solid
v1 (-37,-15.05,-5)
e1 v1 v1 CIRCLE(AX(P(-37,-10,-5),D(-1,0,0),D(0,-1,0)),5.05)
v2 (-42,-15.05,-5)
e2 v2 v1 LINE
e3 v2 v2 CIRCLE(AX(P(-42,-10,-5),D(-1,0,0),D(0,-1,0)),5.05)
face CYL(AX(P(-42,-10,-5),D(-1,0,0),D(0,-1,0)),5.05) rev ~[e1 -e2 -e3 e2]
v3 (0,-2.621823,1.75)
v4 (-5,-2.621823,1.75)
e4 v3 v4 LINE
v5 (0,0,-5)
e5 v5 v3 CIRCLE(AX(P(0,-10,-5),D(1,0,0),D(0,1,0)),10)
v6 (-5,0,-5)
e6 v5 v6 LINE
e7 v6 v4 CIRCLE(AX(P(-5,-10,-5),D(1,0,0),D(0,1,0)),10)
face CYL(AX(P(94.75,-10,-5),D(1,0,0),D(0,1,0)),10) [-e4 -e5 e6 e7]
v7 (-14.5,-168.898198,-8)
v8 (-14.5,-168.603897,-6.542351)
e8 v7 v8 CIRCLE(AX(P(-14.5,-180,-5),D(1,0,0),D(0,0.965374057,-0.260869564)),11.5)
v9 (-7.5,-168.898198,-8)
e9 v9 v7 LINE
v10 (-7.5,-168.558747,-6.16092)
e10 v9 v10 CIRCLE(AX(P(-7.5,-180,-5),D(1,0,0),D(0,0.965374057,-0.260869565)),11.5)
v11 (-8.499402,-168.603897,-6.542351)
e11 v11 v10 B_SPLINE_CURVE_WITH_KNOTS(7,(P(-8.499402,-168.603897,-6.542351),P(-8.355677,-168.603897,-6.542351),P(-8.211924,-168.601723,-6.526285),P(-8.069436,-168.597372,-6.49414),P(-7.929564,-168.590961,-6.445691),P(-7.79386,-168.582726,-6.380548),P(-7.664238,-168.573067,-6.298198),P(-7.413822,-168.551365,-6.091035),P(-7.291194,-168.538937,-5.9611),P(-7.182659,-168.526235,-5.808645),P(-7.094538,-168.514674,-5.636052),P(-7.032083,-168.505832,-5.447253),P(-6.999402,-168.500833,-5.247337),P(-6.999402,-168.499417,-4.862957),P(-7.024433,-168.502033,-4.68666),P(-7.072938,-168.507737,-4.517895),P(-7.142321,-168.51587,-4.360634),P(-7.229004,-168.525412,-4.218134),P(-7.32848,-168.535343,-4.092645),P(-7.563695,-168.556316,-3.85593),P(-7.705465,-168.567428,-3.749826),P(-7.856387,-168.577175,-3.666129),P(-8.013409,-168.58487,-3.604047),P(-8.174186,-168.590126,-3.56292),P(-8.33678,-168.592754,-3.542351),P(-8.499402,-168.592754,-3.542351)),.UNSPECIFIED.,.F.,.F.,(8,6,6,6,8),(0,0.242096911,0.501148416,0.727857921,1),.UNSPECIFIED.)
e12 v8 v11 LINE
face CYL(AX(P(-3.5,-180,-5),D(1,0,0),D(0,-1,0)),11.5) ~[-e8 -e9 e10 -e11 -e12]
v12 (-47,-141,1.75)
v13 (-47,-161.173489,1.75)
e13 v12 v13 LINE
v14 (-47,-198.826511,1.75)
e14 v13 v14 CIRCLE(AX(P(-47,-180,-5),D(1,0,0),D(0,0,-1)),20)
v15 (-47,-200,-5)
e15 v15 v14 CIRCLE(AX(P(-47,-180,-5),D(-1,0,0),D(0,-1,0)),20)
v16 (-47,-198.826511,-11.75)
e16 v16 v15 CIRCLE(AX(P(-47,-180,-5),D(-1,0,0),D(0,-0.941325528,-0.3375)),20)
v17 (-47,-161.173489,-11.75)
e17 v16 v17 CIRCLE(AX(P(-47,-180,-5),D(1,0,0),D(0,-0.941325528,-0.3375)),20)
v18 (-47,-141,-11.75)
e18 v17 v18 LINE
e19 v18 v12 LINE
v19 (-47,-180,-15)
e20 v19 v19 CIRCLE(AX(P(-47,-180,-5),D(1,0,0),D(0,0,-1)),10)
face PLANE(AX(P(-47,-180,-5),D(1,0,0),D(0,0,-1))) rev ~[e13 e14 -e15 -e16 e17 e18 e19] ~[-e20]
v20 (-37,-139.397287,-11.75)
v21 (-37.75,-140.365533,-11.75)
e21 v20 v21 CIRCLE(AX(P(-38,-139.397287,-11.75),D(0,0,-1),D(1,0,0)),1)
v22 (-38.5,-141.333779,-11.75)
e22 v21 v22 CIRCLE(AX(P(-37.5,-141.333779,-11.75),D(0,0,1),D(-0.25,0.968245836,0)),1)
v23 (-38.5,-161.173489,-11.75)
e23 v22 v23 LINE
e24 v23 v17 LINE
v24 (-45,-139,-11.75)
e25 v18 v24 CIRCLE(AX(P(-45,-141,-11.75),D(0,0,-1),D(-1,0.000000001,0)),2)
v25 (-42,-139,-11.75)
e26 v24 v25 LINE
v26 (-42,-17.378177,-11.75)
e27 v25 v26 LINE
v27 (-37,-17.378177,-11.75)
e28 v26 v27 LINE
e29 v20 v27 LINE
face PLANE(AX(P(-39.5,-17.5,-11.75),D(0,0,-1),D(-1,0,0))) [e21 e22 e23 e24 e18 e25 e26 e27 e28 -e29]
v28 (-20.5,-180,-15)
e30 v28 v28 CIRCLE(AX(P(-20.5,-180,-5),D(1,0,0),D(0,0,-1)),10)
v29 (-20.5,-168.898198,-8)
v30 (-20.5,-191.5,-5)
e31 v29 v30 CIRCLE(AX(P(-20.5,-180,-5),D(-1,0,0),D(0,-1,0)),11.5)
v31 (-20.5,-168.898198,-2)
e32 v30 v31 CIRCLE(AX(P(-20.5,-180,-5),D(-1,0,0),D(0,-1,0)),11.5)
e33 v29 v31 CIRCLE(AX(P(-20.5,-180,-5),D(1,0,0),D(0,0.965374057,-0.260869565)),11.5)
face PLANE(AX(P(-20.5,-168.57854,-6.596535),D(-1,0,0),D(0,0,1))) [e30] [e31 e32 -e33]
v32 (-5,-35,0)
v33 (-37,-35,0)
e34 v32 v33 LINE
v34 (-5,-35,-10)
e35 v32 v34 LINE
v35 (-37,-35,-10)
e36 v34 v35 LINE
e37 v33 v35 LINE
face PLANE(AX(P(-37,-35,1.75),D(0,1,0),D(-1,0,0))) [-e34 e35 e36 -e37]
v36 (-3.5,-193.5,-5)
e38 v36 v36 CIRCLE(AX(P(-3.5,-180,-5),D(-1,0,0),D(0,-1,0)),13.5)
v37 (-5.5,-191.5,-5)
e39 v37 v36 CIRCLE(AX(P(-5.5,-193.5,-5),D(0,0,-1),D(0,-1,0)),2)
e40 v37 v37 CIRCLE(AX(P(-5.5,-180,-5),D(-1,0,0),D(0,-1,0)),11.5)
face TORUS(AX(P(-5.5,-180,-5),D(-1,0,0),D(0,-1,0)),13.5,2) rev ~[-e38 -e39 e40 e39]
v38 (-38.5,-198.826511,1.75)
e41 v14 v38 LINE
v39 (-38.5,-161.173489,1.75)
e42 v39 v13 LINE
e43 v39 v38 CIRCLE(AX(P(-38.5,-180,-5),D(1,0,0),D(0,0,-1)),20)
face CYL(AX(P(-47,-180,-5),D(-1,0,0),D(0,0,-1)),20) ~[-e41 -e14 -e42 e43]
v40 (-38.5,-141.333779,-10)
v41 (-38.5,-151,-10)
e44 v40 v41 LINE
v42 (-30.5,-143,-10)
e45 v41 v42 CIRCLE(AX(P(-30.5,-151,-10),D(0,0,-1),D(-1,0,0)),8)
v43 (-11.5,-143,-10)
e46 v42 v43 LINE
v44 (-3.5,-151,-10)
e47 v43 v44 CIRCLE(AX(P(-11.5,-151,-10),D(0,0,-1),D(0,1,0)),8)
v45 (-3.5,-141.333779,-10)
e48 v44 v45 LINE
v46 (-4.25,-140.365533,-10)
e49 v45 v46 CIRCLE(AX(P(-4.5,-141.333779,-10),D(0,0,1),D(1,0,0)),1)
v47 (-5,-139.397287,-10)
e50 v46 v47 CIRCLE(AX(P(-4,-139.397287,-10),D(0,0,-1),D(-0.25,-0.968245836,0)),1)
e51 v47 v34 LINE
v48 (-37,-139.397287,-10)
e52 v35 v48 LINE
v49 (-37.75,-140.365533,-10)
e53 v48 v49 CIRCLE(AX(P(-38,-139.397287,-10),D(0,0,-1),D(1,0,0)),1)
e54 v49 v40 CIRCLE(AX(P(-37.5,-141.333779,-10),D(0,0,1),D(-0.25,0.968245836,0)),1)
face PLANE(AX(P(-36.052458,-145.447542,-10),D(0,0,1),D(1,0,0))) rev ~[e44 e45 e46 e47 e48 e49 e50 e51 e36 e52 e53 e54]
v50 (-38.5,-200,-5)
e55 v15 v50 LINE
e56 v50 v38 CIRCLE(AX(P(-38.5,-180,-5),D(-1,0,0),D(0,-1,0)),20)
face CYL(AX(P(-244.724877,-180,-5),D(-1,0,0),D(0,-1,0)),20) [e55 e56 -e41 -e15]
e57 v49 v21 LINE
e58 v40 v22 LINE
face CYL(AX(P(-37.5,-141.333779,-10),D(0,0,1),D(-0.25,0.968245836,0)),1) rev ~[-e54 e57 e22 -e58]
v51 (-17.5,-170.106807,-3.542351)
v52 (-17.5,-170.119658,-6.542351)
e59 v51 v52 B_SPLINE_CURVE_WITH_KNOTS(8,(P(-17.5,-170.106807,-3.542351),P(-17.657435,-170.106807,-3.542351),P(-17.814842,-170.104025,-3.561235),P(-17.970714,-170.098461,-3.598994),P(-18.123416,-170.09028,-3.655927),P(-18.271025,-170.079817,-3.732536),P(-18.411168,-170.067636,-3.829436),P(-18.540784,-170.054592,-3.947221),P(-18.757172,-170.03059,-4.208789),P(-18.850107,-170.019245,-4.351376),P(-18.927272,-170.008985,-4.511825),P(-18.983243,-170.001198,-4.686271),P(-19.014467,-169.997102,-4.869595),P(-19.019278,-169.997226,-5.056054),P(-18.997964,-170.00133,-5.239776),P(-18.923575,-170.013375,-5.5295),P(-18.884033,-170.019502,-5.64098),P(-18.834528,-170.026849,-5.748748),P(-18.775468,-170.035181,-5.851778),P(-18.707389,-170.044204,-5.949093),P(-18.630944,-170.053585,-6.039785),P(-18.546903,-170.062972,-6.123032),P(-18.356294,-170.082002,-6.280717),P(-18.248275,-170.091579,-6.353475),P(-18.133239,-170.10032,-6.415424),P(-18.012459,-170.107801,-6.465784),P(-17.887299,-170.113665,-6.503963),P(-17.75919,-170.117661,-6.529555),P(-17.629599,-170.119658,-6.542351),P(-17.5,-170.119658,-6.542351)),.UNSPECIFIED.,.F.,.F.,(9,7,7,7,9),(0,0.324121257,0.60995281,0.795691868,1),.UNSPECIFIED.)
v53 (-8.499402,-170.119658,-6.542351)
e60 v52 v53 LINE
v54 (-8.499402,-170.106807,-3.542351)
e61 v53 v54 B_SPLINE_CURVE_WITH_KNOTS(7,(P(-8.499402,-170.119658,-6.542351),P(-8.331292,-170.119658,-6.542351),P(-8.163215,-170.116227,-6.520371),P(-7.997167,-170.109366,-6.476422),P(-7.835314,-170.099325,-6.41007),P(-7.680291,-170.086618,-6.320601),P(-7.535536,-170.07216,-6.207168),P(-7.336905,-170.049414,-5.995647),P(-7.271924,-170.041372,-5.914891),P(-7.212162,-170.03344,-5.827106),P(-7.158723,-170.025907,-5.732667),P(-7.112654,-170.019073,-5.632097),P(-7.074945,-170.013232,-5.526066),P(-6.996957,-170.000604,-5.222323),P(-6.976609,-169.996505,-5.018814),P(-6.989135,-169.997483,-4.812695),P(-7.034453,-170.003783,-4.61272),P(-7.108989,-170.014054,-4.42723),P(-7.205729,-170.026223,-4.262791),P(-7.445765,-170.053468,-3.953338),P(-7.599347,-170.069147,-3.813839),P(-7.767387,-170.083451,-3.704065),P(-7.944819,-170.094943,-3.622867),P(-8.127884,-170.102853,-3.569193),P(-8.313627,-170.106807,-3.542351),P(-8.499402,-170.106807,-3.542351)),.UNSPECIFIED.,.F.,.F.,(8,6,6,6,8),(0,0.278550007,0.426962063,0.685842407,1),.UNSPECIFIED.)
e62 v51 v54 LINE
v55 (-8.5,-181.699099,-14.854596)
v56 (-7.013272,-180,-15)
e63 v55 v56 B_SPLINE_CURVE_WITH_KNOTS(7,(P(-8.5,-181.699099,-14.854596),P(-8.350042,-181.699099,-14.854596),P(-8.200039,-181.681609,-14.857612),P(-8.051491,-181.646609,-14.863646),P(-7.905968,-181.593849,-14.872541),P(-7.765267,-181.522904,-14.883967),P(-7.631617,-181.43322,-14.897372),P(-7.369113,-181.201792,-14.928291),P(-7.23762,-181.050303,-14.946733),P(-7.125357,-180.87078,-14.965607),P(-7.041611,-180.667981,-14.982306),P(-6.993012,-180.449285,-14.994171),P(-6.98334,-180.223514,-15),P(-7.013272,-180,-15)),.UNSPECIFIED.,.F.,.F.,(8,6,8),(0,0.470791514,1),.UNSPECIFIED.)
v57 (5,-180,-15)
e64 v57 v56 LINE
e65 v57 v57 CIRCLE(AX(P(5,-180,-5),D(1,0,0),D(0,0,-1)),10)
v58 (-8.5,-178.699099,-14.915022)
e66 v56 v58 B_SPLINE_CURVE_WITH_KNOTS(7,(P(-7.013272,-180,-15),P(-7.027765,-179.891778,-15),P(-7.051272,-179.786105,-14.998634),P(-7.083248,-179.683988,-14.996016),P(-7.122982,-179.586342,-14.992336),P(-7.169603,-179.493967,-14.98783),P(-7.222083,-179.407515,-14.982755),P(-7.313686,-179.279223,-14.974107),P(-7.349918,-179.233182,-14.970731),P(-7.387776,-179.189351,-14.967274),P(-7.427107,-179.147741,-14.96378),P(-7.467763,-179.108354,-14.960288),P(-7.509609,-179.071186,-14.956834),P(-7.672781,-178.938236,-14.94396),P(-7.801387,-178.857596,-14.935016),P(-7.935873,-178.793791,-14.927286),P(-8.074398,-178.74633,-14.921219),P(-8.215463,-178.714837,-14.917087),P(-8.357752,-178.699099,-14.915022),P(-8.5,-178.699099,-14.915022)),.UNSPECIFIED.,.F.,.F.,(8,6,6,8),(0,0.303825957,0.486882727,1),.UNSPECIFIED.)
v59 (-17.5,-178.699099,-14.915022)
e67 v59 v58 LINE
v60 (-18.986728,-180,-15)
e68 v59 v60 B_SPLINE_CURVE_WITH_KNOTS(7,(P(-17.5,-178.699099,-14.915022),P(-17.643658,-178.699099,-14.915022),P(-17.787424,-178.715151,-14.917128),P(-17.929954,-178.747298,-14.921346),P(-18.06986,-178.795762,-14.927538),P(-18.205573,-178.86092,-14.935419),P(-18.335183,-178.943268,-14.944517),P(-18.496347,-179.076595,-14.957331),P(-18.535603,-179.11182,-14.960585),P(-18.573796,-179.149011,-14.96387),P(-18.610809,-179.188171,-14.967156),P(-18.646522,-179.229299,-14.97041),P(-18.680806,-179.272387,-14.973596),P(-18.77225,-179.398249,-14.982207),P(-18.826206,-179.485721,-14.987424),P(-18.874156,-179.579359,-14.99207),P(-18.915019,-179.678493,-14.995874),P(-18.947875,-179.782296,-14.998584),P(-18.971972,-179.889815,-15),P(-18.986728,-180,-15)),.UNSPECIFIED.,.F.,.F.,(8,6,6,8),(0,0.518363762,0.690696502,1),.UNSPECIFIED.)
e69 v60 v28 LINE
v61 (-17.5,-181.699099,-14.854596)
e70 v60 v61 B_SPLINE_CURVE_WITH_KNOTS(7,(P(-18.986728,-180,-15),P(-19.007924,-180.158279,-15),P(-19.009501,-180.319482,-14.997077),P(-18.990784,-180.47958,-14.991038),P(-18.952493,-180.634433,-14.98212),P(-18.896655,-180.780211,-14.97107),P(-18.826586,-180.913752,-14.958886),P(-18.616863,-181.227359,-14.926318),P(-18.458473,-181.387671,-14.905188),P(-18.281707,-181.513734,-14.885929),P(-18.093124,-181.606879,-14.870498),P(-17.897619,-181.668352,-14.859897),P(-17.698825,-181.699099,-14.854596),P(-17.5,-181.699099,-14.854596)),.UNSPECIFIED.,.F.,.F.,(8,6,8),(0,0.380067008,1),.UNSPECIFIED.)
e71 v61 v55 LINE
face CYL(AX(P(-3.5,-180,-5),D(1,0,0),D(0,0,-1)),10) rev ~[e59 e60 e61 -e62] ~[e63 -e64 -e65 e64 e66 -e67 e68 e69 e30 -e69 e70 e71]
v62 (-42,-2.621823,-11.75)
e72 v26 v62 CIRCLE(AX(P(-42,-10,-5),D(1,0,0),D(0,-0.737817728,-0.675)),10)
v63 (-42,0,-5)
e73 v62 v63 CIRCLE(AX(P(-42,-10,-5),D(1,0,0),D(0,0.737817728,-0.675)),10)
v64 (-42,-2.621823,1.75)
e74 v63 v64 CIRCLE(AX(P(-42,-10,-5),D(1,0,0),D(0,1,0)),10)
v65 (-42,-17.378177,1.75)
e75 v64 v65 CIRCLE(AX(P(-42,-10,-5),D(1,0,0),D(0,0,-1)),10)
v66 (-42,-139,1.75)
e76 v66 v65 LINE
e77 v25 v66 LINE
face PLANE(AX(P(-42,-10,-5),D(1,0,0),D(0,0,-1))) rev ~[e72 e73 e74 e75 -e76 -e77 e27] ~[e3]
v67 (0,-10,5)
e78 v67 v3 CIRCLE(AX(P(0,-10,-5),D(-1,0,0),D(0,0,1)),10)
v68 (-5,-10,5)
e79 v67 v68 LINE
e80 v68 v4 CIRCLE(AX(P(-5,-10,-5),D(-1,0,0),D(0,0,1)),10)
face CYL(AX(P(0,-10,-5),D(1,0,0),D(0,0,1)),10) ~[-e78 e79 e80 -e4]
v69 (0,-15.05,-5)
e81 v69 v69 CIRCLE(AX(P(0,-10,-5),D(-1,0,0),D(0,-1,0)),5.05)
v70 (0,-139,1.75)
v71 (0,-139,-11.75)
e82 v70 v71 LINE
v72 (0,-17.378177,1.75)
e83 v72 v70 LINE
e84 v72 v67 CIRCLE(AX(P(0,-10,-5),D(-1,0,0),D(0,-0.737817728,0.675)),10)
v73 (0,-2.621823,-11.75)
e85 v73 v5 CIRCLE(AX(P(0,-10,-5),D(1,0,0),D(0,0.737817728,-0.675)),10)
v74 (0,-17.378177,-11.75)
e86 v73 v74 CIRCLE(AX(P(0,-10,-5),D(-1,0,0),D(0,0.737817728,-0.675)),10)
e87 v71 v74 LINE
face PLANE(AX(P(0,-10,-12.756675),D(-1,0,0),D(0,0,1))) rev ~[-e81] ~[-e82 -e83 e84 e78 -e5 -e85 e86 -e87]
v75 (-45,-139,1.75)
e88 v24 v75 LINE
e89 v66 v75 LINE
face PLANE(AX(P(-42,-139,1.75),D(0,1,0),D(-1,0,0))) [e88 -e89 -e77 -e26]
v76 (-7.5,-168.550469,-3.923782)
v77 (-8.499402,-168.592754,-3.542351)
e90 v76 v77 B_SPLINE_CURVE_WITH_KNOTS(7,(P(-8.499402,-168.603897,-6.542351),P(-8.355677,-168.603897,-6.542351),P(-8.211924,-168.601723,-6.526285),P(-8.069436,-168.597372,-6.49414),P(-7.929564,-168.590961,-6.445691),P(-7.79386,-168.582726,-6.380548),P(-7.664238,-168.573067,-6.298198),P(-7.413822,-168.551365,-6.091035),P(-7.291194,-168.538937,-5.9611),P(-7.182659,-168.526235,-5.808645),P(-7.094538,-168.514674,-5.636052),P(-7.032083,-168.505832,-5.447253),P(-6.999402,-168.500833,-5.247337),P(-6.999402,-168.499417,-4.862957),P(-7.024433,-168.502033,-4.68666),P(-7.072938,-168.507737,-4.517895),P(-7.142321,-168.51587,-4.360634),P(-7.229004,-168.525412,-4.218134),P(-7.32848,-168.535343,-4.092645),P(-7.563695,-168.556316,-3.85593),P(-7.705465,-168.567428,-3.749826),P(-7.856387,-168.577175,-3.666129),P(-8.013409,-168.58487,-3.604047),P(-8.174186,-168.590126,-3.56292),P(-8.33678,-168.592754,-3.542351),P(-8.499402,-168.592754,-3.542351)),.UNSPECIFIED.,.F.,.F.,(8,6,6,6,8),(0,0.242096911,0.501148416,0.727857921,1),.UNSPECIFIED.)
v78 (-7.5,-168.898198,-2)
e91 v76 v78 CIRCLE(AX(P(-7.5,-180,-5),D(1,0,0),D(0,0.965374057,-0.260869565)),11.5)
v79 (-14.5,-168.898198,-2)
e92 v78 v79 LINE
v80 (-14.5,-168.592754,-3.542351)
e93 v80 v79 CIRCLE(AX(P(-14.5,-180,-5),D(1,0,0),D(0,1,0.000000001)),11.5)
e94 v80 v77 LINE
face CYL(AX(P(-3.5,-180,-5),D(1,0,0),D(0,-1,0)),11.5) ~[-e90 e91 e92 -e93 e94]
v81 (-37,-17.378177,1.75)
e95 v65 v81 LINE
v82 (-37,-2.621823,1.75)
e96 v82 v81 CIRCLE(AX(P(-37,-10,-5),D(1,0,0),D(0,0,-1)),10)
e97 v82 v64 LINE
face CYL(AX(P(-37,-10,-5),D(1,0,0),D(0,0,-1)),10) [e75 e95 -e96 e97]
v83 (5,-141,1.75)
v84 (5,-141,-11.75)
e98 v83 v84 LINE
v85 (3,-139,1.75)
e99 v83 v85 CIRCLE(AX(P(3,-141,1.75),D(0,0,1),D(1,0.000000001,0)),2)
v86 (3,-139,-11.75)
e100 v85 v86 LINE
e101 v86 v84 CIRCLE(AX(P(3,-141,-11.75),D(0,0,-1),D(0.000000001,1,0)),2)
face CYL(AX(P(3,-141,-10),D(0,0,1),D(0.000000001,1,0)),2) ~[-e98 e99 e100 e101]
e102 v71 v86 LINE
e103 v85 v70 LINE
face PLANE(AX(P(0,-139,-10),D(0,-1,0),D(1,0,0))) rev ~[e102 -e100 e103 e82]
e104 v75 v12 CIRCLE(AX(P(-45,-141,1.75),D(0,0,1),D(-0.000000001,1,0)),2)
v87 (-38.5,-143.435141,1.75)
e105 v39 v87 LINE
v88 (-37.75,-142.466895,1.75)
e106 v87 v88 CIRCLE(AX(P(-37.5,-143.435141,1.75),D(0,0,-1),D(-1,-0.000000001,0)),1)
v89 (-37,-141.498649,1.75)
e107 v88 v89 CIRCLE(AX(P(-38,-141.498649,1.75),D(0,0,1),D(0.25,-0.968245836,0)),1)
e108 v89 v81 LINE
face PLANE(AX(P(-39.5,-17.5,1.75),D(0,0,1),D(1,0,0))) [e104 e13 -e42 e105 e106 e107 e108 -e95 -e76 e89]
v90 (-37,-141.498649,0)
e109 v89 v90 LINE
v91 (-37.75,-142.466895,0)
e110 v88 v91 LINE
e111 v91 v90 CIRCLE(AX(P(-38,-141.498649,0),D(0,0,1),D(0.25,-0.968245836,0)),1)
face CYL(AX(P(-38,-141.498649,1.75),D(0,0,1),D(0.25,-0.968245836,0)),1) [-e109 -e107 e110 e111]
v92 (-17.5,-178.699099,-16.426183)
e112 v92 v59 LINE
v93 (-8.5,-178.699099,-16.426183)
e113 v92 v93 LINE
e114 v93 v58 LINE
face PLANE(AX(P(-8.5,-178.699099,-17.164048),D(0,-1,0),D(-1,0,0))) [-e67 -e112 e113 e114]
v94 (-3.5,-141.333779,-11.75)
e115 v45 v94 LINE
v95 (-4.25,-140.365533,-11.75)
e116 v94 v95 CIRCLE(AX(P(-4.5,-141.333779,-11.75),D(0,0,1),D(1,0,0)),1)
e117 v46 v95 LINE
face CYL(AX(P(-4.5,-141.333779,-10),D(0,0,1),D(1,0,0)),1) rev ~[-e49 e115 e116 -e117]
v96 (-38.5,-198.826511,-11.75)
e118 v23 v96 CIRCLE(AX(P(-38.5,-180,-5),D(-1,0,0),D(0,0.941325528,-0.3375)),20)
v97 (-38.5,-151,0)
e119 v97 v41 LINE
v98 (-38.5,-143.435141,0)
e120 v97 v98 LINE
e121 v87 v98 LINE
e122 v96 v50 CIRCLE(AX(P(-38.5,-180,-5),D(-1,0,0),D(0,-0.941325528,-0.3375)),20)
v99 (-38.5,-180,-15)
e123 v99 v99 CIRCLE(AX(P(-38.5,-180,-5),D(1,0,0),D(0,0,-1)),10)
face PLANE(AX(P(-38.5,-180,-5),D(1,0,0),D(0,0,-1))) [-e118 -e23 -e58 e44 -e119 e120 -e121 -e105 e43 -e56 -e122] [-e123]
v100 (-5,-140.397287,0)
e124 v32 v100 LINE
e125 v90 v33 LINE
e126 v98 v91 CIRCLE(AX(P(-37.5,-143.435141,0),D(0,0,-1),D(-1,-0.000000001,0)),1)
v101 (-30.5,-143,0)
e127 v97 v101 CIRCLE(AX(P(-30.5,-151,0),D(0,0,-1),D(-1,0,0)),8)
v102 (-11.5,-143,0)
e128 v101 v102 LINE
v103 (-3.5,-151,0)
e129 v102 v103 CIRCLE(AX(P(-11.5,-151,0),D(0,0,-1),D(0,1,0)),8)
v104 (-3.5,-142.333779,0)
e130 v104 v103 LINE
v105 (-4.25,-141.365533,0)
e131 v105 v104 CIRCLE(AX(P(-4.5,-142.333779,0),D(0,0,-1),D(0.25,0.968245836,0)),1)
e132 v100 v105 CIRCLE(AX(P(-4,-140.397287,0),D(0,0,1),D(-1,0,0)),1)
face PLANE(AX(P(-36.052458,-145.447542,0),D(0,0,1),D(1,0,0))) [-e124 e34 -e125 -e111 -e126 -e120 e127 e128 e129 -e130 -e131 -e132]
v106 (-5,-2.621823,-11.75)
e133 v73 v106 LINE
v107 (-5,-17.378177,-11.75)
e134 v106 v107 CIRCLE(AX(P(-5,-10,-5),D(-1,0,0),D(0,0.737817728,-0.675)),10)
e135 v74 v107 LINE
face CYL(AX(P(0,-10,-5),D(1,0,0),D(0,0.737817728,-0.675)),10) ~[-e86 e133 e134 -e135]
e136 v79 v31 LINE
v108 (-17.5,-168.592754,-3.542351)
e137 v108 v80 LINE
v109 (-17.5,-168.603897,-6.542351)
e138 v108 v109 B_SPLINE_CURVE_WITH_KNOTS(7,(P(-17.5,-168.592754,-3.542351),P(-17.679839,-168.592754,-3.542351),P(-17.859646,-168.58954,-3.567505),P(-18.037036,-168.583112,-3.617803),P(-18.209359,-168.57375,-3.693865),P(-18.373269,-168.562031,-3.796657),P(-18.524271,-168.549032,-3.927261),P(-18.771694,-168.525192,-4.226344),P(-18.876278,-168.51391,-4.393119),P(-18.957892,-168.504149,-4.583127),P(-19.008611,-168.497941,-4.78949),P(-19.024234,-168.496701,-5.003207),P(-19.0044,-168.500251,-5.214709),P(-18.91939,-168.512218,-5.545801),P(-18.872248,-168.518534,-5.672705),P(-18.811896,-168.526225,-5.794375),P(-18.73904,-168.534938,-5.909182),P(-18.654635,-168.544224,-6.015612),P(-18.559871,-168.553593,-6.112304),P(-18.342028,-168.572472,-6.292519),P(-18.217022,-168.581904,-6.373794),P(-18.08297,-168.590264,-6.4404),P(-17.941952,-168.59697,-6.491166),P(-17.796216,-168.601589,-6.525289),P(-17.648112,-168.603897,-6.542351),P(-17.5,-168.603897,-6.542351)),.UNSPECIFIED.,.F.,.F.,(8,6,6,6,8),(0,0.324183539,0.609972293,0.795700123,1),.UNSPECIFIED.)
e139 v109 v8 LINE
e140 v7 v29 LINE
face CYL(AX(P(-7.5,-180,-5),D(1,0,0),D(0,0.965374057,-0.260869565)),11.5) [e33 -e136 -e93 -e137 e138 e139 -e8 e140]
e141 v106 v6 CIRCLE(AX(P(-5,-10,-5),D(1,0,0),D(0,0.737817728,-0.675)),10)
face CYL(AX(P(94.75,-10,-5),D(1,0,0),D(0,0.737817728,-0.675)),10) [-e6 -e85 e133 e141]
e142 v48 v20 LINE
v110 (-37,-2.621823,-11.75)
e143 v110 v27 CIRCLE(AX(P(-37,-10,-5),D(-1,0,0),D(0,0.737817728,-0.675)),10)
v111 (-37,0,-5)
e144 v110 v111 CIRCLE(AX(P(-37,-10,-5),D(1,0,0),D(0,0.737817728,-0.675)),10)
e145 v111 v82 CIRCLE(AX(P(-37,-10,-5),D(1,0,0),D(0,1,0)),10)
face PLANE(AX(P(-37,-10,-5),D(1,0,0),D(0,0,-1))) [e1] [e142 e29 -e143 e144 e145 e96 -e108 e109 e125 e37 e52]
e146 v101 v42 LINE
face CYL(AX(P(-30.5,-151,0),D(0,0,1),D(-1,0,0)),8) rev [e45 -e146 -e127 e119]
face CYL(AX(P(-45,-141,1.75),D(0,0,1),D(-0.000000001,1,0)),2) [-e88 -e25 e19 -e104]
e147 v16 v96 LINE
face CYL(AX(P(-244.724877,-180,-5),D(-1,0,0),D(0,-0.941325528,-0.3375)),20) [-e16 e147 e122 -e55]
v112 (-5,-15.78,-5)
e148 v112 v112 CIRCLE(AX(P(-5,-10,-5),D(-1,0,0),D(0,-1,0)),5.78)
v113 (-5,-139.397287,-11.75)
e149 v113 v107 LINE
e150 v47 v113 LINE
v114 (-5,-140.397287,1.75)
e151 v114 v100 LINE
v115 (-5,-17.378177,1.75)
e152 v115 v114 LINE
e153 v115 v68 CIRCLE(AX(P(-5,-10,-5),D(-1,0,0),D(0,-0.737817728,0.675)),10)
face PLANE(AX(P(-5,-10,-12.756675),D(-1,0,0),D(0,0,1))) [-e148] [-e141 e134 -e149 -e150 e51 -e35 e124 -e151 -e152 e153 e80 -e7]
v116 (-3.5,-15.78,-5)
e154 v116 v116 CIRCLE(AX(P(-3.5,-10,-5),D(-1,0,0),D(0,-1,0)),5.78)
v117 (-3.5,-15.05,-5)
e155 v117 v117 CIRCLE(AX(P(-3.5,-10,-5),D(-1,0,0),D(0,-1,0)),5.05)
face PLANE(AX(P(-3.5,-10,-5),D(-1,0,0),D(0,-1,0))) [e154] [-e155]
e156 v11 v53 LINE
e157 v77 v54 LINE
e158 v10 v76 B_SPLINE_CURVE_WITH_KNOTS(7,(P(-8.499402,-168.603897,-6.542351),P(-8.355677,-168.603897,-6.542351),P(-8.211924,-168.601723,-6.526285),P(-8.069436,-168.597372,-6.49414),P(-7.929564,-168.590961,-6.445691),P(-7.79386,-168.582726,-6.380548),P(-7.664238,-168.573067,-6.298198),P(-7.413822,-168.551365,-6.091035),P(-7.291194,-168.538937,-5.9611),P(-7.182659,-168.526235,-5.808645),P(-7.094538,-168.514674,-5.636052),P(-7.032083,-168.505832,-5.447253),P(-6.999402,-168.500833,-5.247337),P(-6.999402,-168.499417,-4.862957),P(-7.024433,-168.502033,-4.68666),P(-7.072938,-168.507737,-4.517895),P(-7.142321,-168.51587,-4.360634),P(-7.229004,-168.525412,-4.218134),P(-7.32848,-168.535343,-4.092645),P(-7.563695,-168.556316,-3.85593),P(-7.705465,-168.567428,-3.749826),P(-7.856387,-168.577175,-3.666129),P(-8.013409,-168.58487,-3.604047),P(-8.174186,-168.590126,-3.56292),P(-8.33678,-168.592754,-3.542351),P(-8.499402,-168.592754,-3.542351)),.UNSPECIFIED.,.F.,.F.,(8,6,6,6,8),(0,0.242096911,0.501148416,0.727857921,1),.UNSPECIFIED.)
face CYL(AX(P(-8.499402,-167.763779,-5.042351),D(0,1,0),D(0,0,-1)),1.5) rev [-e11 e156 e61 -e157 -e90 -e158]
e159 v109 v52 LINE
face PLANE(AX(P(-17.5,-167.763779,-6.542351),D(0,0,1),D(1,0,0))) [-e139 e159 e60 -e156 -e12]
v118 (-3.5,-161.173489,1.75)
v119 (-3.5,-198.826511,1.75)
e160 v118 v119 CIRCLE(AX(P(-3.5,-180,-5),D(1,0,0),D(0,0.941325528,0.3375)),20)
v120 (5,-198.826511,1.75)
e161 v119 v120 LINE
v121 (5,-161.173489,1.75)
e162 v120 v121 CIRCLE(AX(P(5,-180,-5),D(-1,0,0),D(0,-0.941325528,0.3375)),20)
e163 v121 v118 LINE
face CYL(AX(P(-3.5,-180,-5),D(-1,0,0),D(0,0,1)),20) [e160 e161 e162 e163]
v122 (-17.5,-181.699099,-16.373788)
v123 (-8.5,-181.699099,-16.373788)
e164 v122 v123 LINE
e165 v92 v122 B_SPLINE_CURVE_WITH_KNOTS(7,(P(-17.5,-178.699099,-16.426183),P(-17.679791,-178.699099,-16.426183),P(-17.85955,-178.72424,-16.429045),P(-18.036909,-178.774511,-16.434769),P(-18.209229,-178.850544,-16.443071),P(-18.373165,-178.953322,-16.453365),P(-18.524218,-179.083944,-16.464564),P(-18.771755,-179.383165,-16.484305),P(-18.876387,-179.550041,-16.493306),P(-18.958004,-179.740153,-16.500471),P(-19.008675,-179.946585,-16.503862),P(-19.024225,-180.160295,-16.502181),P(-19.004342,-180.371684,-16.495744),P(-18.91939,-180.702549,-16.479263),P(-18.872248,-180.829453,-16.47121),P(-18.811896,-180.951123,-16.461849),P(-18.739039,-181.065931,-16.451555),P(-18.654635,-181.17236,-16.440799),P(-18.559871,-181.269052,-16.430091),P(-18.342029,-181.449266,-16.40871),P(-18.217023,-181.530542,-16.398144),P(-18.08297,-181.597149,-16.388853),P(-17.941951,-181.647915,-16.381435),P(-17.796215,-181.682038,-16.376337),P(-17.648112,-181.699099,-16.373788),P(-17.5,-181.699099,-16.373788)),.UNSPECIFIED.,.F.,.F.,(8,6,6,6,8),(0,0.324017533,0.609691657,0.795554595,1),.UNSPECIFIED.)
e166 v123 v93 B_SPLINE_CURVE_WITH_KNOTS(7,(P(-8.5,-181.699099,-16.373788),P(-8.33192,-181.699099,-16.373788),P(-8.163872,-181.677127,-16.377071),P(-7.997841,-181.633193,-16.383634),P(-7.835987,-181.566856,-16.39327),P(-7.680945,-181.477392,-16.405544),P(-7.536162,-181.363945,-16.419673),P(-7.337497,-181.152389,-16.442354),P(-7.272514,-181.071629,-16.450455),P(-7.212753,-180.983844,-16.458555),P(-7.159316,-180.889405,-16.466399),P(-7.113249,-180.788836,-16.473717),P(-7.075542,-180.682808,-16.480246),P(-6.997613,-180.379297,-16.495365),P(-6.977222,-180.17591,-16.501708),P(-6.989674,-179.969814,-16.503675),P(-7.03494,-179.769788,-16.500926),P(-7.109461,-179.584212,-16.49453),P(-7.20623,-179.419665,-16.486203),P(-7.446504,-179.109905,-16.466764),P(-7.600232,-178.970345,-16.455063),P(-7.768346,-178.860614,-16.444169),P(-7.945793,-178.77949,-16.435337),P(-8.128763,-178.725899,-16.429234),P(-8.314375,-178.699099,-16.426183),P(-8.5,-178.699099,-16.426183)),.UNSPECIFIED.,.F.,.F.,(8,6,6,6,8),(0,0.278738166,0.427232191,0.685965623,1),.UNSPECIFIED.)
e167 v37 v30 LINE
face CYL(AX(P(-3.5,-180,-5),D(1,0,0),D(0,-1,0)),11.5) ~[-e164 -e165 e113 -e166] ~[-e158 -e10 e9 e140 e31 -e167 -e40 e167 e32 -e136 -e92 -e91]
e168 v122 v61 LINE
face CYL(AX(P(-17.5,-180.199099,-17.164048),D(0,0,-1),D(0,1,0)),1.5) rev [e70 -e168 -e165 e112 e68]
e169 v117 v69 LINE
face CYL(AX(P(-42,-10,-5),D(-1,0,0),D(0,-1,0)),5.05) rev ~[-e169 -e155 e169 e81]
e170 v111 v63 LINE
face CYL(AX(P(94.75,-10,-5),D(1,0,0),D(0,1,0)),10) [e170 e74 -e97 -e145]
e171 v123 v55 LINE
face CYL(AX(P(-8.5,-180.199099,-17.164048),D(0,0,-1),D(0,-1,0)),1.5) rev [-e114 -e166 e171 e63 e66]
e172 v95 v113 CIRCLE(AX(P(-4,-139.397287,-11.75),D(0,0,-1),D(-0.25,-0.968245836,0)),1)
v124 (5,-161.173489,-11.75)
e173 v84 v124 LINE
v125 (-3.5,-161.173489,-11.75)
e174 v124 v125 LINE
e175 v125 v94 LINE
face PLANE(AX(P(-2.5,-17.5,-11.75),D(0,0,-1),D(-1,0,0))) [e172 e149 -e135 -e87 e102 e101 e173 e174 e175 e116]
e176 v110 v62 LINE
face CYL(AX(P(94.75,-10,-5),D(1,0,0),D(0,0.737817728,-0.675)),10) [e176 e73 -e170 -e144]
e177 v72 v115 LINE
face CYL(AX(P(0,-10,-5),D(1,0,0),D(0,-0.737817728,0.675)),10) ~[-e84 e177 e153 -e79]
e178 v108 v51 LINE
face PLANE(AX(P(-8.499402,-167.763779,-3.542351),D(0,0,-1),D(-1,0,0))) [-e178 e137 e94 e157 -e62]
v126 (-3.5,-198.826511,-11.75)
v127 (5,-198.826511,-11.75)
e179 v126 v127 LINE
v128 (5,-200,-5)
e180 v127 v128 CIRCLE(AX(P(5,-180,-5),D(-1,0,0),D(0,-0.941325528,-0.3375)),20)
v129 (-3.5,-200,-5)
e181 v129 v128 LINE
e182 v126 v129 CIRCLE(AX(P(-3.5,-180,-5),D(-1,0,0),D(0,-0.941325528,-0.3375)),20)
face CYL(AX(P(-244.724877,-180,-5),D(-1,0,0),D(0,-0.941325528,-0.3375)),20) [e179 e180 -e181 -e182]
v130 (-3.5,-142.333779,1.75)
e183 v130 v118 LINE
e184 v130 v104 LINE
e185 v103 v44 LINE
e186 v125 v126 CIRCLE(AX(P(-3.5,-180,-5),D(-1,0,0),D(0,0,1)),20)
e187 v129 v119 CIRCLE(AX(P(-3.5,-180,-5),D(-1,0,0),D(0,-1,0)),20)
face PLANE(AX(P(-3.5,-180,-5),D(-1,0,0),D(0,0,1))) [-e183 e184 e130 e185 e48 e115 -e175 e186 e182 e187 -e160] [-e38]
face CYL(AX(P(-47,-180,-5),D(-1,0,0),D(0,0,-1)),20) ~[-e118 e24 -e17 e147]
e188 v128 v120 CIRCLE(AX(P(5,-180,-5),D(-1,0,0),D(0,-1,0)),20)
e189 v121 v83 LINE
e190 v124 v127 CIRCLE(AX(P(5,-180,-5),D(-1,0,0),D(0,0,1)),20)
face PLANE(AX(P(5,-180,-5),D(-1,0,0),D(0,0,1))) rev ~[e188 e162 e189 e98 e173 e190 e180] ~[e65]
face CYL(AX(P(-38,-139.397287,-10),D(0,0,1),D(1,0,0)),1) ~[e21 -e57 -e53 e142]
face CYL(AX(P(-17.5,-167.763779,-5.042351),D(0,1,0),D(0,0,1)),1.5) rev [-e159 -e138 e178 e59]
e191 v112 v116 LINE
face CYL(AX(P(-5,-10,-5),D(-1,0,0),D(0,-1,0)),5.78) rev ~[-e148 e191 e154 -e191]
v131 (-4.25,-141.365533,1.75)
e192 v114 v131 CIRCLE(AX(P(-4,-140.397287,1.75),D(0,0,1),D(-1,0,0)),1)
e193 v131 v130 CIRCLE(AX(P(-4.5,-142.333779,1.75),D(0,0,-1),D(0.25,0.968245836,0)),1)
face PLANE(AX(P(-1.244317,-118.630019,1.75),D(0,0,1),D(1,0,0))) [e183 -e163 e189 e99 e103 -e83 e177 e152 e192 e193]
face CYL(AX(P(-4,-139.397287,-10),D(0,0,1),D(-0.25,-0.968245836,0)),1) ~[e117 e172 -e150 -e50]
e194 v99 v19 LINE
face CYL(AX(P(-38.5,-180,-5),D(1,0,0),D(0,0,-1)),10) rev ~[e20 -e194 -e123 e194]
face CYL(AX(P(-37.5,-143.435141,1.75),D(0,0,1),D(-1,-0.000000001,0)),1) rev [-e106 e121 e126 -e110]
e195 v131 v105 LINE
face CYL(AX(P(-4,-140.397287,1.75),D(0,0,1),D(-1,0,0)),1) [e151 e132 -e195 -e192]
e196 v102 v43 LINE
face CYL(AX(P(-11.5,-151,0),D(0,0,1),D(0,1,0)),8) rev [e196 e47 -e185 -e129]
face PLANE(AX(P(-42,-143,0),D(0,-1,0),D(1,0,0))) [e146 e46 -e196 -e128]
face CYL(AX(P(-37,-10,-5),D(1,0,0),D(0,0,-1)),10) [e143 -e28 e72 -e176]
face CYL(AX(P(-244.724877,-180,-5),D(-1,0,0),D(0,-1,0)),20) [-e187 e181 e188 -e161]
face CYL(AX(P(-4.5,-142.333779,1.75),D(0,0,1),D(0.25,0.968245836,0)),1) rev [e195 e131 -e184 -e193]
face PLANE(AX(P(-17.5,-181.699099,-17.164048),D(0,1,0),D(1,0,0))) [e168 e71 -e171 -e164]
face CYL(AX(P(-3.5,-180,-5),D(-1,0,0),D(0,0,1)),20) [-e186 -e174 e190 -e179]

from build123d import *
from build123d.topology import SkipClean

# Parameters (mm, degrees)
SALIENTE_EXTRUIR1_DEPTH    = 10
SALIENTE_EXTRUIR2_DEPTH    = 10
SALIENTE_EXTRUIR3_DEPTH    = 10
SALIENTE_EXTRUIR4_DEPTH    = 1.75
SALIENTE_EXTRUIR5_START    = 1.75
SALIENTE_EXTRUIR5_DEPTH    = 1.75
CROQUIS26_W                = 5
CROQUIS26_H                = 35
SALIENTE_EXTRUIR6_DEPTH    = 1.75
CROQUIS27_W                = 5
CROQUIS27_H                = 35
SALIENTE_EXTRUIR7_DEPTH    = 11.75
CORTAR_EXTRUIR3_DEPTH      = 205.699932829
CORTAR_EXTRUIR3_DEPTH_BACK = 99.75
SALIENTE_EXTRUIR8_START    = -5
SALIENTE_EXTRUIR8_DEPTH    = 5
CROQUIS29_R                = 10
SALIENTE_EXTRUIR9_DEPTH    = 5
CORTAR_EXTRUIR5_DEPTH      = 206.22487666
CORTAR_EXTRUIR5_DEPTH_BACK = 206.22487666
SALIENTE_EXTRUIR11_START   = -8.5
CROQUIS32_R                = 20
SALIENTE_EXTRUIR11_DEPTH   = 8.5
CROQUIS33_R                = 20
SALIENTE_EXTRUIR12_DEPTH   = 8.5
CROQUIS34_R                = 5.05
CORTAR_EXTRUIR6_DEPTH      = 90
CROQUIS39_R                = 5.78
CORTAR_EXTRUIR7_DEPTH      = 1.5
CROQUIS41_R                = 10
CORTAR_EXTRUIR8_DEPTH      = 43
CROQUIS42_R                = 4
CORTAR_EXTRUIR9_DEPTH      = 27
CROQUIS43_R                = 10
CORTAR_EXTRUIR10_DEPTH     = 12
CROQUIS45_R                = 11.5
SALIENTE_EXTRUIR13_DEPTH   = 17
REDONDEO1_R                = 2
SALIENTE_EXTRUIR14_START   = -6
SALIENTE_EXTRUIR14_DEPTH   = 6
CROQUIS48_R                = 10
CORTAR_EXTRUIR12_DEPTH     = 17
SALIENTE_EXTRUIR16_DEPTH   = 6
CORTAR_EXTRUIR20_DEPTH     = 6
CORTAR_EXTRUIR21_DEPTH     = 10
CORTAR_EXTRUIR22_START     = -13
CORTAR_EXTRUIR22_DEPTH     = 13
CORTAR_EXTRUIR23_START     = -13
CORTAR_EXTRUIR23_DEPTH     = 13


with BuildPart() as part:
    # Croquis1 → Saliente-Extruir1 (new body)
    with BuildSketch(Plane.XY):
        Polygon((0, -143), (0, -35), (-1.6, -35), (-37.4, -35), (-42, -35), (-42, -143), align=None)
    extrude(amount=-SALIENTE_EXTRUIR1_DEPTH)

    # Croquis3 → Saliente-Extruir2 (add)
    with BuildSketch(Plane.XY):
        with BuildLine():
            Line((-47, -141), (-47, -145))
            Line((-47, -145), (-47, -160))
            Line((-47, -160), (-47, -180))
            Line((-47, -180), (-47, -200))
            Line((-47, -200), (-38.5, -200))
            Line((-38.5, -200), (-38.5, -151))
            Line((-38.5, -151), (-38.5, -143))
            Line((-38.5, -143), (-42, -143))
            Line((-42, -143), (-42, -139))
            Line((-42, -139), (-45, -139))
            ThreePointArc((-45, -139), (-46.414213562, -139.585786438), (-47, -141))
        make_face()
        with BuildLine():
            Line((0, -143), (-11.5, -143))
            ThreePointArc((-11.5, -143), (-5.843145751, -145.343145751), (-3.5, -151))
            Line((-3.5, -151), (-3.5, -200))
            Line((-3.5, -200), (5, -200))
            Line((5, -200), (5, -143))
            Line((5, -143), (5, -141))
            ThreePointArc((5, -141), (4.414213562, -139.585786438), (3, -139))
            Line((3, -139), (0, -139))
            Line((0, -139), (0, -143))
        make_face()
    extrude(amount=-SALIENTE_EXTRUIR2_DEPTH)

    # Croquis21 → Saliente-Extruir3 (add)
    with BuildSketch(Plane.XY):
        with BuildLine():
            Line((-38.5, -143), (-38.5, -151))
            ThreePointArc((-38.5, -151), (-36.156854249, -145.343145751), (-30.5, -143))
            Line((-30.5, -143), (-38.5, -143))
        make_face()
    extrude(amount=-SALIENTE_EXTRUIR3_DEPTH)

    # Croquis22 → Saliente-Extruir4 (add)
    with BuildSketch(Plane(origin=(0, 0, -10), x_dir=(-1, 0, 0), z_dir=(0, 0, -1))):
        with BuildLine():
            Line((3.5, -200), (3.5, -156.87358131))
            Line((3.5, -156.87358131), (3.5, -151))
            Line((3.5, -151), (3.5, -141.333778868))
            ThreePointArc((3.5, -141.333778868), (3.709430585, -140.721406432), (4.25, -140.365533031))
            ThreePointArc((4.25, -140.365533031), (4.790569415, -140.00965963), (5, -139.397287194))
            Line((5, -139.397287194), (5, -35))
            Line((5, -35), (0, -35))
            Line((0, -35), (0, -139))
            Line((0, -139), (-3, -139))
            ThreePointArc((-3, -139), (-4.414213562, -139.585786438), (-5, -141))
            Line((-5, -141), (-5, -200))
            Line((-5, -200), (3.5, -200))
        make_face()
        with BuildLine():
            Line((42, -35), (37, -35))
            Line((37, -35), (37, -139.397287194))
            ThreePointArc((37, -139.397287194), (37.209430585, -140.00965963), (37.75, -140.365533031))
            ThreePointArc((37.75, -140.365533031), (38.290569415, -140.721406432), (38.5, -141.333778868))
            Line((38.5, -141.333778868), (38.5, -151))
            Line((38.5, -151), (38.5, -155.512462497))
            Line((38.5, -155.512462497), (38.5, -200))
            Line((38.5, -200), (47, -200))
            Line((47, -200), (47, -141))
            ThreePointArc((47, -141), (46.414213562, -139.585786438), (45, -139))
            Line((45, -139), (42, -139))
            Line((42, -139), (42, -35))
        make_face()
    extrude(amount=SALIENTE_EXTRUIR4_DEPTH)

    # Croquis24 → Saliente-Extruir5 (add)
    with BuildSketch(Plane.XY.offset(SALIENTE_EXTRUIR5_START)):
        with BuildLine():
            Line((-37, -141.498649254), (-37, -35))
            Line((-37, -35), (-42, -35))
            Line((-42, -35), (-42, -139))
            Line((-42, -139), (-45, -139))
            ThreePointArc((-45, -139), (-46.414213562, -139.585786438), (-47, -141))
            Line((-47, -141), (-47, -200))
            Line((-47, -200), (-38.5, -200))
            Line((-38.5, -200), (-38.5, -143.435140927))
            ThreePointArc((-38.5, -143.435140927), (-38.290569415, -142.822768491), (-37.75, -142.466895091))
            ThreePointArc((-37.75, -142.466895091), (-37.209430585, -142.11102169), (-37, -141.498649254))
        make_face()
        with BuildLine():
            Line((0, -35), (-5, -35))
            Line((-5, -35), (-5, -140.397287194))
            ThreePointArc((-5, -140.397287194), (-4.790569415, -141.00965963), (-4.25, -141.365533031))
            ThreePointArc((-4.25, -141.365533031), (-3.709430585, -141.721406432), (-3.5, -142.333778868))
            Line((-3.5, -142.333778868), (-3.5, -200))
            Line((-3.5, -200), (5, -200))
            Line((5, -200), (5, -141))
            ThreePointArc((5, -141), (4.414213562, -139.585786438), (3, -139))
            Line((3, -139), (0, -139))
            Line((0, -139), (0, -35))
        make_face()
    extrude(amount=-SALIENTE_EXTRUIR5_DEPTH)

    # Croquis26 → Saliente-Extruir6 (add)
    with BuildSketch(Plane.XY):
        with Locations((-39.5, -17.5)):
            Rectangle(CROQUIS26_W, CROQUIS26_H)
        with Locations((-2.5, -17.5)):
            Rectangle(CROQUIS26_W, CROQUIS26_H)
    extrude(amount=SALIENTE_EXTRUIR6_DEPTH)

    # Croquis27 → Saliente-Extruir7 (add)
    with BuildSketch(Plane(origin=(0, 0, 0), x_dir=(-1, 0, 0), z_dir=(0, 0, -1))):
        with Locations((2.5, -17.5)):
            Rectangle(CROQUIS27_W, CROQUIS27_H)
        with Locations((39.5, -17.5)):
            Rectangle(CROQUIS27_W, CROQUIS27_H)
    extrude(amount=SALIENTE_EXTRUIR7_DEPTH)

    # Croquis28 → Cortar-Extruir3 (cut, two sides: drawn at the far end of the back side and taken through both)
    with BuildSketch(Plane.ZY.offset(5).offset(-CORTAR_EXTRUIR3_DEPTH_BACK)):
        with BuildLine():
            ThreePointArc((-11.75, -2.621822718), (-8.62065099, -0.678471884), (-5, 0))
            Line((-5, 0), (-11.75, 0))
            Line((-11.75, 0), (-11.75, -2.621822718))
        make_face()
        with BuildLine():
            Line((1.75, -2.621822718), (1.75, 0))
            Line((1.75, 0), (-5, 0))
            ThreePointArc((-5, 0), (-1.37934901, -0.678471884), (1.75, -2.621822718))
        make_face()
    extrude(amount=CORTAR_EXTRUIR3_DEPTH + CORTAR_EXTRUIR3_DEPTH_BACK, mode=Mode.SUBTRACT)

    # Croquis28<5> → Saliente-Extruir8 (add)
    with BuildSketch(Plane.ZY.offset(5).offset(SALIENTE_EXTRUIR8_START)):
        with BuildLine():
            Line((-11.75, -17.378177282), (-11.75, -2.621822718))
            ThreePointArc((-11.75, -2.621822718), (-15, -10), (-11.75, -17.378177282))
        make_face()
        with BuildLine():
            ThreePointArc((5, -10), (4.151502609, -5.968871126), (1.75, -2.621822718))
            Line((1.75, -2.621822718), (1.75, -17.378177282))
            ThreePointArc((1.75, -17.378177282), (4.151502609, -14.031128874), (5, -10))
        make_face()
    extrude(amount=SALIENTE_EXTRUIR8_DEPTH)

    # Croquis29 → Saliente-Extruir9 (add)
    with BuildSketch(Plane(origin=(-37, 0, 0), x_dir=(0, 0, -1), z_dir=(1, 0, 0))):
        with Locations((5, -10)):
            Circle(CROQUIS29_R)
    extrude(amount=-SALIENTE_EXTRUIR9_DEPTH)

    # Croquis31 → Cortar-Extruir5 (cut, two sides: drawn at the far end of the back side and taken through both)
    with BuildSketch(Plane(origin=(-38.5, 0, 0), x_dir=(0, 0, -1), z_dir=(1, 0, 0)).offset(-CORTAR_EXTRUIR5_DEPTH_BACK)):
        with BuildLine():
            Line((-1.75, -200), (5, -200))
            ThreePointArc((5, -200), (1.574376792, -199.704443804), (-1.75, -198.826510564))
            Line((-1.75, -198.826510564), (-1.75, -200))
        make_face()
        with BuildLine():
            Line((11.75, -200), (11.75, -198.826510564))
            ThreePointArc((11.75, -198.826510564), (8.425623208, -199.704443804), (5, -200))
            Line((5, -200), (11.75, -200))
        make_face()
    extrude(amount=CORTAR_EXTRUIR5_DEPTH + CORTAR_EXTRUIR5_DEPTH_BACK, mode=Mode.SUBTRACT)

    # Croquis32 → Saliente-Extruir11 (add)
    with BuildSketch(Plane(origin=(-38.5, 0, 0), x_dir=(0, 0, -1), z_dir=(1, 0, 0)).offset(SALIENTE_EXTRUIR11_START)):
        with Locations((5, -180)):
            Circle(CROQUIS32_R)
    extrude(amount=SALIENTE_EXTRUIR11_DEPTH)

    # Croquis33 → Saliente-Extruir12 (add)
    with BuildSketch(Plane.ZY.offset(3.5)):
        with Locations((-5, -180)):
            Circle(CROQUIS33_R)
    extrude(amount=-SALIENTE_EXTRUIR12_DEPTH)

    # Croquis34 → Cortar-Extruir6 (cut)
    with BuildSketch(Plane.ZY.offset(42)):
        with Locations(Location((-5, -10, 0), (0, 0, 270))):
            Circle(CROQUIS34_R)
    extrude(amount=-CORTAR_EXTRUIR6_DEPTH, mode=Mode.SUBTRACT)

    # Croquis39 → Cortar-Extruir7 (cut)
    with SkipClean():  # the faces are left unmerged after this step: merging them gives an invalid solid
        with BuildSketch(Plane.ZY.offset(5)):
            with Locations(Location((-5, -10, 0), (0, 0, 270))):
                Circle(CROQUIS39_R)
        extrude(amount=-CORTAR_EXTRUIR7_DEPTH, mode=Mode.SUBTRACT)

    # Croquis41 → Cortar-Extruir8 (cut)
    with SkipClean():  # the faces are left unmerged after this step: merging them gives an invalid solid
        with BuildSketch(Plane(origin=(-38.5, 0, 0), x_dir=(0, 0, -1), z_dir=(1, 0, 0))):
            with Locations((5, -180)):
                Circle(CROQUIS41_R)
        extrude(amount=-CORTAR_EXTRUIR8_DEPTH, mode=Mode.SUBTRACT)

    # Croquis42 → Cortar-Extruir9 (cut)
    with SkipClean():  # the faces are left unmerged after this step: merging them gives an invalid solid
        with BuildSketch(Plane(origin=(5, 0, 0), x_dir=(0, 0, -1), z_dir=(1, 0, 0))):
            with Locations(Location((5, -180, 0), (0, 0, 90))):
                Circle(CROQUIS42_R)
        extrude(amount=-CORTAR_EXTRUIR9_DEPTH, mode=Mode.SUBTRACT)

    # Croquis43 → Cortar-Extruir10 (cut)
    with SkipClean():  # the faces are left unmerged after this step: merging them gives an invalid solid
        with BuildSketch(Plane(origin=(5, 0, 0), x_dir=(0, 0, -1), z_dir=(1, 0, 0))):
            with Locations((5, -180)):
                Circle(CROQUIS43_R)
        extrude(amount=-CORTAR_EXTRUIR10_DEPTH, mode=Mode.SUBTRACT)

    # Croquis45 → Saliente-Extruir13 (add)
    with SkipClean():  # the faces are left unmerged after this step: merging them gives an invalid solid
        with BuildSketch(Plane.ZY.offset(3.5)):
            with Locations(Location((-5, -180, 0), (0, 0, 270))):
                Circle(CROQUIS45_R)
        extrude(amount=SALIENTE_EXTRUIR13_DEPTH)

    # Redondeo1
    redondeo1_edges = [part.edges().sort_by_distance(p)[0] for p in [
        (-3.5, -168.5, -5),
    ]]
    fillet(redondeo1_edges, radius=REDONDEO1_R)

    # Croquis46 → Saliente-Extruir14 (add)
    with SkipClean():  # the faces are left unmerged after this step: merging them gives an invalid solid
        with BuildSketch(Plane.ZY.offset(20.5).offset(SALIENTE_EXTRUIR14_START)):
            with BuildLine():
                ThreePointArc((-8, -168.898198344), (-6.513155802, -168.599984232), (-5, -168.5))
                Line((-5, -168.5), (-8, -168.5))
                Line((-8, -168.5), (-8, -168.898198344))
            make_face()
            with BuildLine():
                Line((-2, -168.5), (-5, -168.5))
                ThreePointArc((-5, -168.5), (-3.486844198, -168.599984232), (-2, -168.898198344))
                Line((-2, -168.898198344), (-2, -168.5))
            make_face()
            Polygon((-2, -167.763778716), (-2, -168.5), (-5, -168.5), (-8, -168.5), (-8, -167.763778716), align=None)
        extrude(amount=SALIENTE_EXTRUIR14_DEPTH)

    # Croquis48 → Cortar-Extruir12 (cut)
    with SkipClean():  # the faces are left unmerged after this step: merging them gives an invalid solid
        with BuildSketch(Plane(origin=(-3.5, 0, 0), x_dir=(0, 0, -1), z_dir=(1, 0, 0))):
            with Locations((5, -180)):
                Circle(CROQUIS48_R)
        extrude(amount=-CORTAR_EXTRUIR12_DEPTH, mode=Mode.SUBTRACT)


with BuildPart() as body_2:
    # Croquis50 → Saliente-Extruir16 (new body)
    with BuildSketch(Plane.ZY.offset(20.5)):
        with BuildLine():
            ThreePointArc((-16.101801656, -183), (-16.400015768, -181.513155802), (-16.5, -180))
            Line((-16.5, -180), (-16.5, -183))
            Line((-16.5, -183), (-16.101801656, -183))
        make_face()
        with BuildLine():
            Line((-16.5, -176.344003647), (-16.5, -180))
            ThreePointArc((-16.5, -180), (-16.349864922, -178.147821214), (-15.903379782, -176.344003647))
            Line((-15.903379782, -176.344003647), (-16.5, -176.344003647))
        make_face()
        Polygon((-17.164048231, -176.344003647), (-17.164048231, -183), (-16.5, -183), (-16.5, -180), (-16.5, -176.344003647), align=None)
    extrude(amount=-SALIENTE_EXTRUIR16_DEPTH)


with BuildPart() as cortar_extruir20_tool:
    # Croquis51 → Cortar-Extruir20 (new body)
    with SkipClean():  # the faces are left unmerged after this step: merging them gives an invalid solid
        with BuildSketch(Plane(origin=(0, 0, -17.164048231), x_dir=(-1, 0, 0), z_dir=(0, 0, -1))):
            with BuildLine():
                Line((17.5, -181.699099172), (8.5, -181.699099172))
                ThreePointArc((8.5, -181.699099172), (7, -180.199099172), (8.5, -178.699099172))
                Line((8.5, -178.699099172), (17.5, -178.699099172))
                ThreePointArc((17.5, -178.699099172), (19, -180.199099172), (17.5, -181.699099172))
            make_face()
        extrude(amount=-CORTAR_EXTRUIR20_DEPTH)


with BuildPart() as part_1:
    with SkipClean():  # the faces are left unmerged after this step: merging them gives an invalid solid
        add(part.part)

        # Cortar-Extruir20: cut by cortar_extruir20_tool
        add(cortar_extruir20_tool.part, mode=Mode.SUBTRACT)

    # Croquis53 → Cortar-Extruir21 (cut)
    with SkipClean():  # the faces are left unmerged after this step: merging them gives an invalid solid
        with BuildSketch(Plane(origin=(0, -167.763778716, 0), x_dir=(1, 0, 0), z_dir=(0, 1, 0))):
            with BuildLine():
                Line((-8.499402012, 3.542350975), (-17.5, 3.542350975))
                ThreePointArc((-17.5, 3.542350975), (-19, 5.042350975), (-17.5, 6.542350975))
                Line((-17.5, 6.542350975), (-8.499402012, 6.542350975))
                ThreePointArc((-8.499402012, 6.542350975), (-6.999402012, 5.042350975), (-8.499402012, 3.542350975))
            make_face()
        extrude(amount=-CORTAR_EXTRUIR21_DEPTH, mode=Mode.SUBTRACT)

    # Croquis49 → Cortar-Extruir22 (cut)
    with SkipClean():  # the faces are left unmerged after this step: merging them gives an invalid solid
        with BuildSketch(Plane.ZY.offset(20.5).offset(CORTAR_EXTRUIR22_START)):
            with BuildLine():
                Line((-2, -167.763778716), (-8, -167.763778716))
                Line((-8, -167.763778716), (-8, -168.898198344))
                ThreePointArc((-8, -168.898198344), (-5, -168.5), (-2, -168.898198344))
                Line((-2, -168.898198344), (-2, -167.763778716))
            make_face()
        extrude(amount=CORTAR_EXTRUIR22_DEPTH, mode=Mode.SUBTRACT)


with BuildPart() as body_2_1:
    with SkipClean():  # the faces are left unmerged after this step: merging them gives an invalid solid
        add(body_2.part)

        # Cortar-Extruir20: cut by cortar_extruir20_tool
        add(cortar_extruir20_tool.part, mode=Mode.SUBTRACT)

    # Croquis52 → Cortar-Extruir23 (cut)
    with BuildSketch(Plane.ZY.offset(20.5).offset(CORTAR_EXTRUIR23_START)):
        with BuildLine():
            Line((-17.164048231, -183), (-16.101801656, -183))
            ThreePointArc((-16.101801656, -183), (-16.494893405, -179.657325791), (-15.903379782, -176.344003647))
            Line((-15.903379782, -176.344003647), (-17.164048231, -176.344003647))
            Line((-17.164048231, -176.344003647), (-17.164048231, -183))
        make_face()
    extrude(amount=CORTAR_EXTRUIR23_DEPTH, mode=Mode.SUBTRACT)


solid = part_1.part
